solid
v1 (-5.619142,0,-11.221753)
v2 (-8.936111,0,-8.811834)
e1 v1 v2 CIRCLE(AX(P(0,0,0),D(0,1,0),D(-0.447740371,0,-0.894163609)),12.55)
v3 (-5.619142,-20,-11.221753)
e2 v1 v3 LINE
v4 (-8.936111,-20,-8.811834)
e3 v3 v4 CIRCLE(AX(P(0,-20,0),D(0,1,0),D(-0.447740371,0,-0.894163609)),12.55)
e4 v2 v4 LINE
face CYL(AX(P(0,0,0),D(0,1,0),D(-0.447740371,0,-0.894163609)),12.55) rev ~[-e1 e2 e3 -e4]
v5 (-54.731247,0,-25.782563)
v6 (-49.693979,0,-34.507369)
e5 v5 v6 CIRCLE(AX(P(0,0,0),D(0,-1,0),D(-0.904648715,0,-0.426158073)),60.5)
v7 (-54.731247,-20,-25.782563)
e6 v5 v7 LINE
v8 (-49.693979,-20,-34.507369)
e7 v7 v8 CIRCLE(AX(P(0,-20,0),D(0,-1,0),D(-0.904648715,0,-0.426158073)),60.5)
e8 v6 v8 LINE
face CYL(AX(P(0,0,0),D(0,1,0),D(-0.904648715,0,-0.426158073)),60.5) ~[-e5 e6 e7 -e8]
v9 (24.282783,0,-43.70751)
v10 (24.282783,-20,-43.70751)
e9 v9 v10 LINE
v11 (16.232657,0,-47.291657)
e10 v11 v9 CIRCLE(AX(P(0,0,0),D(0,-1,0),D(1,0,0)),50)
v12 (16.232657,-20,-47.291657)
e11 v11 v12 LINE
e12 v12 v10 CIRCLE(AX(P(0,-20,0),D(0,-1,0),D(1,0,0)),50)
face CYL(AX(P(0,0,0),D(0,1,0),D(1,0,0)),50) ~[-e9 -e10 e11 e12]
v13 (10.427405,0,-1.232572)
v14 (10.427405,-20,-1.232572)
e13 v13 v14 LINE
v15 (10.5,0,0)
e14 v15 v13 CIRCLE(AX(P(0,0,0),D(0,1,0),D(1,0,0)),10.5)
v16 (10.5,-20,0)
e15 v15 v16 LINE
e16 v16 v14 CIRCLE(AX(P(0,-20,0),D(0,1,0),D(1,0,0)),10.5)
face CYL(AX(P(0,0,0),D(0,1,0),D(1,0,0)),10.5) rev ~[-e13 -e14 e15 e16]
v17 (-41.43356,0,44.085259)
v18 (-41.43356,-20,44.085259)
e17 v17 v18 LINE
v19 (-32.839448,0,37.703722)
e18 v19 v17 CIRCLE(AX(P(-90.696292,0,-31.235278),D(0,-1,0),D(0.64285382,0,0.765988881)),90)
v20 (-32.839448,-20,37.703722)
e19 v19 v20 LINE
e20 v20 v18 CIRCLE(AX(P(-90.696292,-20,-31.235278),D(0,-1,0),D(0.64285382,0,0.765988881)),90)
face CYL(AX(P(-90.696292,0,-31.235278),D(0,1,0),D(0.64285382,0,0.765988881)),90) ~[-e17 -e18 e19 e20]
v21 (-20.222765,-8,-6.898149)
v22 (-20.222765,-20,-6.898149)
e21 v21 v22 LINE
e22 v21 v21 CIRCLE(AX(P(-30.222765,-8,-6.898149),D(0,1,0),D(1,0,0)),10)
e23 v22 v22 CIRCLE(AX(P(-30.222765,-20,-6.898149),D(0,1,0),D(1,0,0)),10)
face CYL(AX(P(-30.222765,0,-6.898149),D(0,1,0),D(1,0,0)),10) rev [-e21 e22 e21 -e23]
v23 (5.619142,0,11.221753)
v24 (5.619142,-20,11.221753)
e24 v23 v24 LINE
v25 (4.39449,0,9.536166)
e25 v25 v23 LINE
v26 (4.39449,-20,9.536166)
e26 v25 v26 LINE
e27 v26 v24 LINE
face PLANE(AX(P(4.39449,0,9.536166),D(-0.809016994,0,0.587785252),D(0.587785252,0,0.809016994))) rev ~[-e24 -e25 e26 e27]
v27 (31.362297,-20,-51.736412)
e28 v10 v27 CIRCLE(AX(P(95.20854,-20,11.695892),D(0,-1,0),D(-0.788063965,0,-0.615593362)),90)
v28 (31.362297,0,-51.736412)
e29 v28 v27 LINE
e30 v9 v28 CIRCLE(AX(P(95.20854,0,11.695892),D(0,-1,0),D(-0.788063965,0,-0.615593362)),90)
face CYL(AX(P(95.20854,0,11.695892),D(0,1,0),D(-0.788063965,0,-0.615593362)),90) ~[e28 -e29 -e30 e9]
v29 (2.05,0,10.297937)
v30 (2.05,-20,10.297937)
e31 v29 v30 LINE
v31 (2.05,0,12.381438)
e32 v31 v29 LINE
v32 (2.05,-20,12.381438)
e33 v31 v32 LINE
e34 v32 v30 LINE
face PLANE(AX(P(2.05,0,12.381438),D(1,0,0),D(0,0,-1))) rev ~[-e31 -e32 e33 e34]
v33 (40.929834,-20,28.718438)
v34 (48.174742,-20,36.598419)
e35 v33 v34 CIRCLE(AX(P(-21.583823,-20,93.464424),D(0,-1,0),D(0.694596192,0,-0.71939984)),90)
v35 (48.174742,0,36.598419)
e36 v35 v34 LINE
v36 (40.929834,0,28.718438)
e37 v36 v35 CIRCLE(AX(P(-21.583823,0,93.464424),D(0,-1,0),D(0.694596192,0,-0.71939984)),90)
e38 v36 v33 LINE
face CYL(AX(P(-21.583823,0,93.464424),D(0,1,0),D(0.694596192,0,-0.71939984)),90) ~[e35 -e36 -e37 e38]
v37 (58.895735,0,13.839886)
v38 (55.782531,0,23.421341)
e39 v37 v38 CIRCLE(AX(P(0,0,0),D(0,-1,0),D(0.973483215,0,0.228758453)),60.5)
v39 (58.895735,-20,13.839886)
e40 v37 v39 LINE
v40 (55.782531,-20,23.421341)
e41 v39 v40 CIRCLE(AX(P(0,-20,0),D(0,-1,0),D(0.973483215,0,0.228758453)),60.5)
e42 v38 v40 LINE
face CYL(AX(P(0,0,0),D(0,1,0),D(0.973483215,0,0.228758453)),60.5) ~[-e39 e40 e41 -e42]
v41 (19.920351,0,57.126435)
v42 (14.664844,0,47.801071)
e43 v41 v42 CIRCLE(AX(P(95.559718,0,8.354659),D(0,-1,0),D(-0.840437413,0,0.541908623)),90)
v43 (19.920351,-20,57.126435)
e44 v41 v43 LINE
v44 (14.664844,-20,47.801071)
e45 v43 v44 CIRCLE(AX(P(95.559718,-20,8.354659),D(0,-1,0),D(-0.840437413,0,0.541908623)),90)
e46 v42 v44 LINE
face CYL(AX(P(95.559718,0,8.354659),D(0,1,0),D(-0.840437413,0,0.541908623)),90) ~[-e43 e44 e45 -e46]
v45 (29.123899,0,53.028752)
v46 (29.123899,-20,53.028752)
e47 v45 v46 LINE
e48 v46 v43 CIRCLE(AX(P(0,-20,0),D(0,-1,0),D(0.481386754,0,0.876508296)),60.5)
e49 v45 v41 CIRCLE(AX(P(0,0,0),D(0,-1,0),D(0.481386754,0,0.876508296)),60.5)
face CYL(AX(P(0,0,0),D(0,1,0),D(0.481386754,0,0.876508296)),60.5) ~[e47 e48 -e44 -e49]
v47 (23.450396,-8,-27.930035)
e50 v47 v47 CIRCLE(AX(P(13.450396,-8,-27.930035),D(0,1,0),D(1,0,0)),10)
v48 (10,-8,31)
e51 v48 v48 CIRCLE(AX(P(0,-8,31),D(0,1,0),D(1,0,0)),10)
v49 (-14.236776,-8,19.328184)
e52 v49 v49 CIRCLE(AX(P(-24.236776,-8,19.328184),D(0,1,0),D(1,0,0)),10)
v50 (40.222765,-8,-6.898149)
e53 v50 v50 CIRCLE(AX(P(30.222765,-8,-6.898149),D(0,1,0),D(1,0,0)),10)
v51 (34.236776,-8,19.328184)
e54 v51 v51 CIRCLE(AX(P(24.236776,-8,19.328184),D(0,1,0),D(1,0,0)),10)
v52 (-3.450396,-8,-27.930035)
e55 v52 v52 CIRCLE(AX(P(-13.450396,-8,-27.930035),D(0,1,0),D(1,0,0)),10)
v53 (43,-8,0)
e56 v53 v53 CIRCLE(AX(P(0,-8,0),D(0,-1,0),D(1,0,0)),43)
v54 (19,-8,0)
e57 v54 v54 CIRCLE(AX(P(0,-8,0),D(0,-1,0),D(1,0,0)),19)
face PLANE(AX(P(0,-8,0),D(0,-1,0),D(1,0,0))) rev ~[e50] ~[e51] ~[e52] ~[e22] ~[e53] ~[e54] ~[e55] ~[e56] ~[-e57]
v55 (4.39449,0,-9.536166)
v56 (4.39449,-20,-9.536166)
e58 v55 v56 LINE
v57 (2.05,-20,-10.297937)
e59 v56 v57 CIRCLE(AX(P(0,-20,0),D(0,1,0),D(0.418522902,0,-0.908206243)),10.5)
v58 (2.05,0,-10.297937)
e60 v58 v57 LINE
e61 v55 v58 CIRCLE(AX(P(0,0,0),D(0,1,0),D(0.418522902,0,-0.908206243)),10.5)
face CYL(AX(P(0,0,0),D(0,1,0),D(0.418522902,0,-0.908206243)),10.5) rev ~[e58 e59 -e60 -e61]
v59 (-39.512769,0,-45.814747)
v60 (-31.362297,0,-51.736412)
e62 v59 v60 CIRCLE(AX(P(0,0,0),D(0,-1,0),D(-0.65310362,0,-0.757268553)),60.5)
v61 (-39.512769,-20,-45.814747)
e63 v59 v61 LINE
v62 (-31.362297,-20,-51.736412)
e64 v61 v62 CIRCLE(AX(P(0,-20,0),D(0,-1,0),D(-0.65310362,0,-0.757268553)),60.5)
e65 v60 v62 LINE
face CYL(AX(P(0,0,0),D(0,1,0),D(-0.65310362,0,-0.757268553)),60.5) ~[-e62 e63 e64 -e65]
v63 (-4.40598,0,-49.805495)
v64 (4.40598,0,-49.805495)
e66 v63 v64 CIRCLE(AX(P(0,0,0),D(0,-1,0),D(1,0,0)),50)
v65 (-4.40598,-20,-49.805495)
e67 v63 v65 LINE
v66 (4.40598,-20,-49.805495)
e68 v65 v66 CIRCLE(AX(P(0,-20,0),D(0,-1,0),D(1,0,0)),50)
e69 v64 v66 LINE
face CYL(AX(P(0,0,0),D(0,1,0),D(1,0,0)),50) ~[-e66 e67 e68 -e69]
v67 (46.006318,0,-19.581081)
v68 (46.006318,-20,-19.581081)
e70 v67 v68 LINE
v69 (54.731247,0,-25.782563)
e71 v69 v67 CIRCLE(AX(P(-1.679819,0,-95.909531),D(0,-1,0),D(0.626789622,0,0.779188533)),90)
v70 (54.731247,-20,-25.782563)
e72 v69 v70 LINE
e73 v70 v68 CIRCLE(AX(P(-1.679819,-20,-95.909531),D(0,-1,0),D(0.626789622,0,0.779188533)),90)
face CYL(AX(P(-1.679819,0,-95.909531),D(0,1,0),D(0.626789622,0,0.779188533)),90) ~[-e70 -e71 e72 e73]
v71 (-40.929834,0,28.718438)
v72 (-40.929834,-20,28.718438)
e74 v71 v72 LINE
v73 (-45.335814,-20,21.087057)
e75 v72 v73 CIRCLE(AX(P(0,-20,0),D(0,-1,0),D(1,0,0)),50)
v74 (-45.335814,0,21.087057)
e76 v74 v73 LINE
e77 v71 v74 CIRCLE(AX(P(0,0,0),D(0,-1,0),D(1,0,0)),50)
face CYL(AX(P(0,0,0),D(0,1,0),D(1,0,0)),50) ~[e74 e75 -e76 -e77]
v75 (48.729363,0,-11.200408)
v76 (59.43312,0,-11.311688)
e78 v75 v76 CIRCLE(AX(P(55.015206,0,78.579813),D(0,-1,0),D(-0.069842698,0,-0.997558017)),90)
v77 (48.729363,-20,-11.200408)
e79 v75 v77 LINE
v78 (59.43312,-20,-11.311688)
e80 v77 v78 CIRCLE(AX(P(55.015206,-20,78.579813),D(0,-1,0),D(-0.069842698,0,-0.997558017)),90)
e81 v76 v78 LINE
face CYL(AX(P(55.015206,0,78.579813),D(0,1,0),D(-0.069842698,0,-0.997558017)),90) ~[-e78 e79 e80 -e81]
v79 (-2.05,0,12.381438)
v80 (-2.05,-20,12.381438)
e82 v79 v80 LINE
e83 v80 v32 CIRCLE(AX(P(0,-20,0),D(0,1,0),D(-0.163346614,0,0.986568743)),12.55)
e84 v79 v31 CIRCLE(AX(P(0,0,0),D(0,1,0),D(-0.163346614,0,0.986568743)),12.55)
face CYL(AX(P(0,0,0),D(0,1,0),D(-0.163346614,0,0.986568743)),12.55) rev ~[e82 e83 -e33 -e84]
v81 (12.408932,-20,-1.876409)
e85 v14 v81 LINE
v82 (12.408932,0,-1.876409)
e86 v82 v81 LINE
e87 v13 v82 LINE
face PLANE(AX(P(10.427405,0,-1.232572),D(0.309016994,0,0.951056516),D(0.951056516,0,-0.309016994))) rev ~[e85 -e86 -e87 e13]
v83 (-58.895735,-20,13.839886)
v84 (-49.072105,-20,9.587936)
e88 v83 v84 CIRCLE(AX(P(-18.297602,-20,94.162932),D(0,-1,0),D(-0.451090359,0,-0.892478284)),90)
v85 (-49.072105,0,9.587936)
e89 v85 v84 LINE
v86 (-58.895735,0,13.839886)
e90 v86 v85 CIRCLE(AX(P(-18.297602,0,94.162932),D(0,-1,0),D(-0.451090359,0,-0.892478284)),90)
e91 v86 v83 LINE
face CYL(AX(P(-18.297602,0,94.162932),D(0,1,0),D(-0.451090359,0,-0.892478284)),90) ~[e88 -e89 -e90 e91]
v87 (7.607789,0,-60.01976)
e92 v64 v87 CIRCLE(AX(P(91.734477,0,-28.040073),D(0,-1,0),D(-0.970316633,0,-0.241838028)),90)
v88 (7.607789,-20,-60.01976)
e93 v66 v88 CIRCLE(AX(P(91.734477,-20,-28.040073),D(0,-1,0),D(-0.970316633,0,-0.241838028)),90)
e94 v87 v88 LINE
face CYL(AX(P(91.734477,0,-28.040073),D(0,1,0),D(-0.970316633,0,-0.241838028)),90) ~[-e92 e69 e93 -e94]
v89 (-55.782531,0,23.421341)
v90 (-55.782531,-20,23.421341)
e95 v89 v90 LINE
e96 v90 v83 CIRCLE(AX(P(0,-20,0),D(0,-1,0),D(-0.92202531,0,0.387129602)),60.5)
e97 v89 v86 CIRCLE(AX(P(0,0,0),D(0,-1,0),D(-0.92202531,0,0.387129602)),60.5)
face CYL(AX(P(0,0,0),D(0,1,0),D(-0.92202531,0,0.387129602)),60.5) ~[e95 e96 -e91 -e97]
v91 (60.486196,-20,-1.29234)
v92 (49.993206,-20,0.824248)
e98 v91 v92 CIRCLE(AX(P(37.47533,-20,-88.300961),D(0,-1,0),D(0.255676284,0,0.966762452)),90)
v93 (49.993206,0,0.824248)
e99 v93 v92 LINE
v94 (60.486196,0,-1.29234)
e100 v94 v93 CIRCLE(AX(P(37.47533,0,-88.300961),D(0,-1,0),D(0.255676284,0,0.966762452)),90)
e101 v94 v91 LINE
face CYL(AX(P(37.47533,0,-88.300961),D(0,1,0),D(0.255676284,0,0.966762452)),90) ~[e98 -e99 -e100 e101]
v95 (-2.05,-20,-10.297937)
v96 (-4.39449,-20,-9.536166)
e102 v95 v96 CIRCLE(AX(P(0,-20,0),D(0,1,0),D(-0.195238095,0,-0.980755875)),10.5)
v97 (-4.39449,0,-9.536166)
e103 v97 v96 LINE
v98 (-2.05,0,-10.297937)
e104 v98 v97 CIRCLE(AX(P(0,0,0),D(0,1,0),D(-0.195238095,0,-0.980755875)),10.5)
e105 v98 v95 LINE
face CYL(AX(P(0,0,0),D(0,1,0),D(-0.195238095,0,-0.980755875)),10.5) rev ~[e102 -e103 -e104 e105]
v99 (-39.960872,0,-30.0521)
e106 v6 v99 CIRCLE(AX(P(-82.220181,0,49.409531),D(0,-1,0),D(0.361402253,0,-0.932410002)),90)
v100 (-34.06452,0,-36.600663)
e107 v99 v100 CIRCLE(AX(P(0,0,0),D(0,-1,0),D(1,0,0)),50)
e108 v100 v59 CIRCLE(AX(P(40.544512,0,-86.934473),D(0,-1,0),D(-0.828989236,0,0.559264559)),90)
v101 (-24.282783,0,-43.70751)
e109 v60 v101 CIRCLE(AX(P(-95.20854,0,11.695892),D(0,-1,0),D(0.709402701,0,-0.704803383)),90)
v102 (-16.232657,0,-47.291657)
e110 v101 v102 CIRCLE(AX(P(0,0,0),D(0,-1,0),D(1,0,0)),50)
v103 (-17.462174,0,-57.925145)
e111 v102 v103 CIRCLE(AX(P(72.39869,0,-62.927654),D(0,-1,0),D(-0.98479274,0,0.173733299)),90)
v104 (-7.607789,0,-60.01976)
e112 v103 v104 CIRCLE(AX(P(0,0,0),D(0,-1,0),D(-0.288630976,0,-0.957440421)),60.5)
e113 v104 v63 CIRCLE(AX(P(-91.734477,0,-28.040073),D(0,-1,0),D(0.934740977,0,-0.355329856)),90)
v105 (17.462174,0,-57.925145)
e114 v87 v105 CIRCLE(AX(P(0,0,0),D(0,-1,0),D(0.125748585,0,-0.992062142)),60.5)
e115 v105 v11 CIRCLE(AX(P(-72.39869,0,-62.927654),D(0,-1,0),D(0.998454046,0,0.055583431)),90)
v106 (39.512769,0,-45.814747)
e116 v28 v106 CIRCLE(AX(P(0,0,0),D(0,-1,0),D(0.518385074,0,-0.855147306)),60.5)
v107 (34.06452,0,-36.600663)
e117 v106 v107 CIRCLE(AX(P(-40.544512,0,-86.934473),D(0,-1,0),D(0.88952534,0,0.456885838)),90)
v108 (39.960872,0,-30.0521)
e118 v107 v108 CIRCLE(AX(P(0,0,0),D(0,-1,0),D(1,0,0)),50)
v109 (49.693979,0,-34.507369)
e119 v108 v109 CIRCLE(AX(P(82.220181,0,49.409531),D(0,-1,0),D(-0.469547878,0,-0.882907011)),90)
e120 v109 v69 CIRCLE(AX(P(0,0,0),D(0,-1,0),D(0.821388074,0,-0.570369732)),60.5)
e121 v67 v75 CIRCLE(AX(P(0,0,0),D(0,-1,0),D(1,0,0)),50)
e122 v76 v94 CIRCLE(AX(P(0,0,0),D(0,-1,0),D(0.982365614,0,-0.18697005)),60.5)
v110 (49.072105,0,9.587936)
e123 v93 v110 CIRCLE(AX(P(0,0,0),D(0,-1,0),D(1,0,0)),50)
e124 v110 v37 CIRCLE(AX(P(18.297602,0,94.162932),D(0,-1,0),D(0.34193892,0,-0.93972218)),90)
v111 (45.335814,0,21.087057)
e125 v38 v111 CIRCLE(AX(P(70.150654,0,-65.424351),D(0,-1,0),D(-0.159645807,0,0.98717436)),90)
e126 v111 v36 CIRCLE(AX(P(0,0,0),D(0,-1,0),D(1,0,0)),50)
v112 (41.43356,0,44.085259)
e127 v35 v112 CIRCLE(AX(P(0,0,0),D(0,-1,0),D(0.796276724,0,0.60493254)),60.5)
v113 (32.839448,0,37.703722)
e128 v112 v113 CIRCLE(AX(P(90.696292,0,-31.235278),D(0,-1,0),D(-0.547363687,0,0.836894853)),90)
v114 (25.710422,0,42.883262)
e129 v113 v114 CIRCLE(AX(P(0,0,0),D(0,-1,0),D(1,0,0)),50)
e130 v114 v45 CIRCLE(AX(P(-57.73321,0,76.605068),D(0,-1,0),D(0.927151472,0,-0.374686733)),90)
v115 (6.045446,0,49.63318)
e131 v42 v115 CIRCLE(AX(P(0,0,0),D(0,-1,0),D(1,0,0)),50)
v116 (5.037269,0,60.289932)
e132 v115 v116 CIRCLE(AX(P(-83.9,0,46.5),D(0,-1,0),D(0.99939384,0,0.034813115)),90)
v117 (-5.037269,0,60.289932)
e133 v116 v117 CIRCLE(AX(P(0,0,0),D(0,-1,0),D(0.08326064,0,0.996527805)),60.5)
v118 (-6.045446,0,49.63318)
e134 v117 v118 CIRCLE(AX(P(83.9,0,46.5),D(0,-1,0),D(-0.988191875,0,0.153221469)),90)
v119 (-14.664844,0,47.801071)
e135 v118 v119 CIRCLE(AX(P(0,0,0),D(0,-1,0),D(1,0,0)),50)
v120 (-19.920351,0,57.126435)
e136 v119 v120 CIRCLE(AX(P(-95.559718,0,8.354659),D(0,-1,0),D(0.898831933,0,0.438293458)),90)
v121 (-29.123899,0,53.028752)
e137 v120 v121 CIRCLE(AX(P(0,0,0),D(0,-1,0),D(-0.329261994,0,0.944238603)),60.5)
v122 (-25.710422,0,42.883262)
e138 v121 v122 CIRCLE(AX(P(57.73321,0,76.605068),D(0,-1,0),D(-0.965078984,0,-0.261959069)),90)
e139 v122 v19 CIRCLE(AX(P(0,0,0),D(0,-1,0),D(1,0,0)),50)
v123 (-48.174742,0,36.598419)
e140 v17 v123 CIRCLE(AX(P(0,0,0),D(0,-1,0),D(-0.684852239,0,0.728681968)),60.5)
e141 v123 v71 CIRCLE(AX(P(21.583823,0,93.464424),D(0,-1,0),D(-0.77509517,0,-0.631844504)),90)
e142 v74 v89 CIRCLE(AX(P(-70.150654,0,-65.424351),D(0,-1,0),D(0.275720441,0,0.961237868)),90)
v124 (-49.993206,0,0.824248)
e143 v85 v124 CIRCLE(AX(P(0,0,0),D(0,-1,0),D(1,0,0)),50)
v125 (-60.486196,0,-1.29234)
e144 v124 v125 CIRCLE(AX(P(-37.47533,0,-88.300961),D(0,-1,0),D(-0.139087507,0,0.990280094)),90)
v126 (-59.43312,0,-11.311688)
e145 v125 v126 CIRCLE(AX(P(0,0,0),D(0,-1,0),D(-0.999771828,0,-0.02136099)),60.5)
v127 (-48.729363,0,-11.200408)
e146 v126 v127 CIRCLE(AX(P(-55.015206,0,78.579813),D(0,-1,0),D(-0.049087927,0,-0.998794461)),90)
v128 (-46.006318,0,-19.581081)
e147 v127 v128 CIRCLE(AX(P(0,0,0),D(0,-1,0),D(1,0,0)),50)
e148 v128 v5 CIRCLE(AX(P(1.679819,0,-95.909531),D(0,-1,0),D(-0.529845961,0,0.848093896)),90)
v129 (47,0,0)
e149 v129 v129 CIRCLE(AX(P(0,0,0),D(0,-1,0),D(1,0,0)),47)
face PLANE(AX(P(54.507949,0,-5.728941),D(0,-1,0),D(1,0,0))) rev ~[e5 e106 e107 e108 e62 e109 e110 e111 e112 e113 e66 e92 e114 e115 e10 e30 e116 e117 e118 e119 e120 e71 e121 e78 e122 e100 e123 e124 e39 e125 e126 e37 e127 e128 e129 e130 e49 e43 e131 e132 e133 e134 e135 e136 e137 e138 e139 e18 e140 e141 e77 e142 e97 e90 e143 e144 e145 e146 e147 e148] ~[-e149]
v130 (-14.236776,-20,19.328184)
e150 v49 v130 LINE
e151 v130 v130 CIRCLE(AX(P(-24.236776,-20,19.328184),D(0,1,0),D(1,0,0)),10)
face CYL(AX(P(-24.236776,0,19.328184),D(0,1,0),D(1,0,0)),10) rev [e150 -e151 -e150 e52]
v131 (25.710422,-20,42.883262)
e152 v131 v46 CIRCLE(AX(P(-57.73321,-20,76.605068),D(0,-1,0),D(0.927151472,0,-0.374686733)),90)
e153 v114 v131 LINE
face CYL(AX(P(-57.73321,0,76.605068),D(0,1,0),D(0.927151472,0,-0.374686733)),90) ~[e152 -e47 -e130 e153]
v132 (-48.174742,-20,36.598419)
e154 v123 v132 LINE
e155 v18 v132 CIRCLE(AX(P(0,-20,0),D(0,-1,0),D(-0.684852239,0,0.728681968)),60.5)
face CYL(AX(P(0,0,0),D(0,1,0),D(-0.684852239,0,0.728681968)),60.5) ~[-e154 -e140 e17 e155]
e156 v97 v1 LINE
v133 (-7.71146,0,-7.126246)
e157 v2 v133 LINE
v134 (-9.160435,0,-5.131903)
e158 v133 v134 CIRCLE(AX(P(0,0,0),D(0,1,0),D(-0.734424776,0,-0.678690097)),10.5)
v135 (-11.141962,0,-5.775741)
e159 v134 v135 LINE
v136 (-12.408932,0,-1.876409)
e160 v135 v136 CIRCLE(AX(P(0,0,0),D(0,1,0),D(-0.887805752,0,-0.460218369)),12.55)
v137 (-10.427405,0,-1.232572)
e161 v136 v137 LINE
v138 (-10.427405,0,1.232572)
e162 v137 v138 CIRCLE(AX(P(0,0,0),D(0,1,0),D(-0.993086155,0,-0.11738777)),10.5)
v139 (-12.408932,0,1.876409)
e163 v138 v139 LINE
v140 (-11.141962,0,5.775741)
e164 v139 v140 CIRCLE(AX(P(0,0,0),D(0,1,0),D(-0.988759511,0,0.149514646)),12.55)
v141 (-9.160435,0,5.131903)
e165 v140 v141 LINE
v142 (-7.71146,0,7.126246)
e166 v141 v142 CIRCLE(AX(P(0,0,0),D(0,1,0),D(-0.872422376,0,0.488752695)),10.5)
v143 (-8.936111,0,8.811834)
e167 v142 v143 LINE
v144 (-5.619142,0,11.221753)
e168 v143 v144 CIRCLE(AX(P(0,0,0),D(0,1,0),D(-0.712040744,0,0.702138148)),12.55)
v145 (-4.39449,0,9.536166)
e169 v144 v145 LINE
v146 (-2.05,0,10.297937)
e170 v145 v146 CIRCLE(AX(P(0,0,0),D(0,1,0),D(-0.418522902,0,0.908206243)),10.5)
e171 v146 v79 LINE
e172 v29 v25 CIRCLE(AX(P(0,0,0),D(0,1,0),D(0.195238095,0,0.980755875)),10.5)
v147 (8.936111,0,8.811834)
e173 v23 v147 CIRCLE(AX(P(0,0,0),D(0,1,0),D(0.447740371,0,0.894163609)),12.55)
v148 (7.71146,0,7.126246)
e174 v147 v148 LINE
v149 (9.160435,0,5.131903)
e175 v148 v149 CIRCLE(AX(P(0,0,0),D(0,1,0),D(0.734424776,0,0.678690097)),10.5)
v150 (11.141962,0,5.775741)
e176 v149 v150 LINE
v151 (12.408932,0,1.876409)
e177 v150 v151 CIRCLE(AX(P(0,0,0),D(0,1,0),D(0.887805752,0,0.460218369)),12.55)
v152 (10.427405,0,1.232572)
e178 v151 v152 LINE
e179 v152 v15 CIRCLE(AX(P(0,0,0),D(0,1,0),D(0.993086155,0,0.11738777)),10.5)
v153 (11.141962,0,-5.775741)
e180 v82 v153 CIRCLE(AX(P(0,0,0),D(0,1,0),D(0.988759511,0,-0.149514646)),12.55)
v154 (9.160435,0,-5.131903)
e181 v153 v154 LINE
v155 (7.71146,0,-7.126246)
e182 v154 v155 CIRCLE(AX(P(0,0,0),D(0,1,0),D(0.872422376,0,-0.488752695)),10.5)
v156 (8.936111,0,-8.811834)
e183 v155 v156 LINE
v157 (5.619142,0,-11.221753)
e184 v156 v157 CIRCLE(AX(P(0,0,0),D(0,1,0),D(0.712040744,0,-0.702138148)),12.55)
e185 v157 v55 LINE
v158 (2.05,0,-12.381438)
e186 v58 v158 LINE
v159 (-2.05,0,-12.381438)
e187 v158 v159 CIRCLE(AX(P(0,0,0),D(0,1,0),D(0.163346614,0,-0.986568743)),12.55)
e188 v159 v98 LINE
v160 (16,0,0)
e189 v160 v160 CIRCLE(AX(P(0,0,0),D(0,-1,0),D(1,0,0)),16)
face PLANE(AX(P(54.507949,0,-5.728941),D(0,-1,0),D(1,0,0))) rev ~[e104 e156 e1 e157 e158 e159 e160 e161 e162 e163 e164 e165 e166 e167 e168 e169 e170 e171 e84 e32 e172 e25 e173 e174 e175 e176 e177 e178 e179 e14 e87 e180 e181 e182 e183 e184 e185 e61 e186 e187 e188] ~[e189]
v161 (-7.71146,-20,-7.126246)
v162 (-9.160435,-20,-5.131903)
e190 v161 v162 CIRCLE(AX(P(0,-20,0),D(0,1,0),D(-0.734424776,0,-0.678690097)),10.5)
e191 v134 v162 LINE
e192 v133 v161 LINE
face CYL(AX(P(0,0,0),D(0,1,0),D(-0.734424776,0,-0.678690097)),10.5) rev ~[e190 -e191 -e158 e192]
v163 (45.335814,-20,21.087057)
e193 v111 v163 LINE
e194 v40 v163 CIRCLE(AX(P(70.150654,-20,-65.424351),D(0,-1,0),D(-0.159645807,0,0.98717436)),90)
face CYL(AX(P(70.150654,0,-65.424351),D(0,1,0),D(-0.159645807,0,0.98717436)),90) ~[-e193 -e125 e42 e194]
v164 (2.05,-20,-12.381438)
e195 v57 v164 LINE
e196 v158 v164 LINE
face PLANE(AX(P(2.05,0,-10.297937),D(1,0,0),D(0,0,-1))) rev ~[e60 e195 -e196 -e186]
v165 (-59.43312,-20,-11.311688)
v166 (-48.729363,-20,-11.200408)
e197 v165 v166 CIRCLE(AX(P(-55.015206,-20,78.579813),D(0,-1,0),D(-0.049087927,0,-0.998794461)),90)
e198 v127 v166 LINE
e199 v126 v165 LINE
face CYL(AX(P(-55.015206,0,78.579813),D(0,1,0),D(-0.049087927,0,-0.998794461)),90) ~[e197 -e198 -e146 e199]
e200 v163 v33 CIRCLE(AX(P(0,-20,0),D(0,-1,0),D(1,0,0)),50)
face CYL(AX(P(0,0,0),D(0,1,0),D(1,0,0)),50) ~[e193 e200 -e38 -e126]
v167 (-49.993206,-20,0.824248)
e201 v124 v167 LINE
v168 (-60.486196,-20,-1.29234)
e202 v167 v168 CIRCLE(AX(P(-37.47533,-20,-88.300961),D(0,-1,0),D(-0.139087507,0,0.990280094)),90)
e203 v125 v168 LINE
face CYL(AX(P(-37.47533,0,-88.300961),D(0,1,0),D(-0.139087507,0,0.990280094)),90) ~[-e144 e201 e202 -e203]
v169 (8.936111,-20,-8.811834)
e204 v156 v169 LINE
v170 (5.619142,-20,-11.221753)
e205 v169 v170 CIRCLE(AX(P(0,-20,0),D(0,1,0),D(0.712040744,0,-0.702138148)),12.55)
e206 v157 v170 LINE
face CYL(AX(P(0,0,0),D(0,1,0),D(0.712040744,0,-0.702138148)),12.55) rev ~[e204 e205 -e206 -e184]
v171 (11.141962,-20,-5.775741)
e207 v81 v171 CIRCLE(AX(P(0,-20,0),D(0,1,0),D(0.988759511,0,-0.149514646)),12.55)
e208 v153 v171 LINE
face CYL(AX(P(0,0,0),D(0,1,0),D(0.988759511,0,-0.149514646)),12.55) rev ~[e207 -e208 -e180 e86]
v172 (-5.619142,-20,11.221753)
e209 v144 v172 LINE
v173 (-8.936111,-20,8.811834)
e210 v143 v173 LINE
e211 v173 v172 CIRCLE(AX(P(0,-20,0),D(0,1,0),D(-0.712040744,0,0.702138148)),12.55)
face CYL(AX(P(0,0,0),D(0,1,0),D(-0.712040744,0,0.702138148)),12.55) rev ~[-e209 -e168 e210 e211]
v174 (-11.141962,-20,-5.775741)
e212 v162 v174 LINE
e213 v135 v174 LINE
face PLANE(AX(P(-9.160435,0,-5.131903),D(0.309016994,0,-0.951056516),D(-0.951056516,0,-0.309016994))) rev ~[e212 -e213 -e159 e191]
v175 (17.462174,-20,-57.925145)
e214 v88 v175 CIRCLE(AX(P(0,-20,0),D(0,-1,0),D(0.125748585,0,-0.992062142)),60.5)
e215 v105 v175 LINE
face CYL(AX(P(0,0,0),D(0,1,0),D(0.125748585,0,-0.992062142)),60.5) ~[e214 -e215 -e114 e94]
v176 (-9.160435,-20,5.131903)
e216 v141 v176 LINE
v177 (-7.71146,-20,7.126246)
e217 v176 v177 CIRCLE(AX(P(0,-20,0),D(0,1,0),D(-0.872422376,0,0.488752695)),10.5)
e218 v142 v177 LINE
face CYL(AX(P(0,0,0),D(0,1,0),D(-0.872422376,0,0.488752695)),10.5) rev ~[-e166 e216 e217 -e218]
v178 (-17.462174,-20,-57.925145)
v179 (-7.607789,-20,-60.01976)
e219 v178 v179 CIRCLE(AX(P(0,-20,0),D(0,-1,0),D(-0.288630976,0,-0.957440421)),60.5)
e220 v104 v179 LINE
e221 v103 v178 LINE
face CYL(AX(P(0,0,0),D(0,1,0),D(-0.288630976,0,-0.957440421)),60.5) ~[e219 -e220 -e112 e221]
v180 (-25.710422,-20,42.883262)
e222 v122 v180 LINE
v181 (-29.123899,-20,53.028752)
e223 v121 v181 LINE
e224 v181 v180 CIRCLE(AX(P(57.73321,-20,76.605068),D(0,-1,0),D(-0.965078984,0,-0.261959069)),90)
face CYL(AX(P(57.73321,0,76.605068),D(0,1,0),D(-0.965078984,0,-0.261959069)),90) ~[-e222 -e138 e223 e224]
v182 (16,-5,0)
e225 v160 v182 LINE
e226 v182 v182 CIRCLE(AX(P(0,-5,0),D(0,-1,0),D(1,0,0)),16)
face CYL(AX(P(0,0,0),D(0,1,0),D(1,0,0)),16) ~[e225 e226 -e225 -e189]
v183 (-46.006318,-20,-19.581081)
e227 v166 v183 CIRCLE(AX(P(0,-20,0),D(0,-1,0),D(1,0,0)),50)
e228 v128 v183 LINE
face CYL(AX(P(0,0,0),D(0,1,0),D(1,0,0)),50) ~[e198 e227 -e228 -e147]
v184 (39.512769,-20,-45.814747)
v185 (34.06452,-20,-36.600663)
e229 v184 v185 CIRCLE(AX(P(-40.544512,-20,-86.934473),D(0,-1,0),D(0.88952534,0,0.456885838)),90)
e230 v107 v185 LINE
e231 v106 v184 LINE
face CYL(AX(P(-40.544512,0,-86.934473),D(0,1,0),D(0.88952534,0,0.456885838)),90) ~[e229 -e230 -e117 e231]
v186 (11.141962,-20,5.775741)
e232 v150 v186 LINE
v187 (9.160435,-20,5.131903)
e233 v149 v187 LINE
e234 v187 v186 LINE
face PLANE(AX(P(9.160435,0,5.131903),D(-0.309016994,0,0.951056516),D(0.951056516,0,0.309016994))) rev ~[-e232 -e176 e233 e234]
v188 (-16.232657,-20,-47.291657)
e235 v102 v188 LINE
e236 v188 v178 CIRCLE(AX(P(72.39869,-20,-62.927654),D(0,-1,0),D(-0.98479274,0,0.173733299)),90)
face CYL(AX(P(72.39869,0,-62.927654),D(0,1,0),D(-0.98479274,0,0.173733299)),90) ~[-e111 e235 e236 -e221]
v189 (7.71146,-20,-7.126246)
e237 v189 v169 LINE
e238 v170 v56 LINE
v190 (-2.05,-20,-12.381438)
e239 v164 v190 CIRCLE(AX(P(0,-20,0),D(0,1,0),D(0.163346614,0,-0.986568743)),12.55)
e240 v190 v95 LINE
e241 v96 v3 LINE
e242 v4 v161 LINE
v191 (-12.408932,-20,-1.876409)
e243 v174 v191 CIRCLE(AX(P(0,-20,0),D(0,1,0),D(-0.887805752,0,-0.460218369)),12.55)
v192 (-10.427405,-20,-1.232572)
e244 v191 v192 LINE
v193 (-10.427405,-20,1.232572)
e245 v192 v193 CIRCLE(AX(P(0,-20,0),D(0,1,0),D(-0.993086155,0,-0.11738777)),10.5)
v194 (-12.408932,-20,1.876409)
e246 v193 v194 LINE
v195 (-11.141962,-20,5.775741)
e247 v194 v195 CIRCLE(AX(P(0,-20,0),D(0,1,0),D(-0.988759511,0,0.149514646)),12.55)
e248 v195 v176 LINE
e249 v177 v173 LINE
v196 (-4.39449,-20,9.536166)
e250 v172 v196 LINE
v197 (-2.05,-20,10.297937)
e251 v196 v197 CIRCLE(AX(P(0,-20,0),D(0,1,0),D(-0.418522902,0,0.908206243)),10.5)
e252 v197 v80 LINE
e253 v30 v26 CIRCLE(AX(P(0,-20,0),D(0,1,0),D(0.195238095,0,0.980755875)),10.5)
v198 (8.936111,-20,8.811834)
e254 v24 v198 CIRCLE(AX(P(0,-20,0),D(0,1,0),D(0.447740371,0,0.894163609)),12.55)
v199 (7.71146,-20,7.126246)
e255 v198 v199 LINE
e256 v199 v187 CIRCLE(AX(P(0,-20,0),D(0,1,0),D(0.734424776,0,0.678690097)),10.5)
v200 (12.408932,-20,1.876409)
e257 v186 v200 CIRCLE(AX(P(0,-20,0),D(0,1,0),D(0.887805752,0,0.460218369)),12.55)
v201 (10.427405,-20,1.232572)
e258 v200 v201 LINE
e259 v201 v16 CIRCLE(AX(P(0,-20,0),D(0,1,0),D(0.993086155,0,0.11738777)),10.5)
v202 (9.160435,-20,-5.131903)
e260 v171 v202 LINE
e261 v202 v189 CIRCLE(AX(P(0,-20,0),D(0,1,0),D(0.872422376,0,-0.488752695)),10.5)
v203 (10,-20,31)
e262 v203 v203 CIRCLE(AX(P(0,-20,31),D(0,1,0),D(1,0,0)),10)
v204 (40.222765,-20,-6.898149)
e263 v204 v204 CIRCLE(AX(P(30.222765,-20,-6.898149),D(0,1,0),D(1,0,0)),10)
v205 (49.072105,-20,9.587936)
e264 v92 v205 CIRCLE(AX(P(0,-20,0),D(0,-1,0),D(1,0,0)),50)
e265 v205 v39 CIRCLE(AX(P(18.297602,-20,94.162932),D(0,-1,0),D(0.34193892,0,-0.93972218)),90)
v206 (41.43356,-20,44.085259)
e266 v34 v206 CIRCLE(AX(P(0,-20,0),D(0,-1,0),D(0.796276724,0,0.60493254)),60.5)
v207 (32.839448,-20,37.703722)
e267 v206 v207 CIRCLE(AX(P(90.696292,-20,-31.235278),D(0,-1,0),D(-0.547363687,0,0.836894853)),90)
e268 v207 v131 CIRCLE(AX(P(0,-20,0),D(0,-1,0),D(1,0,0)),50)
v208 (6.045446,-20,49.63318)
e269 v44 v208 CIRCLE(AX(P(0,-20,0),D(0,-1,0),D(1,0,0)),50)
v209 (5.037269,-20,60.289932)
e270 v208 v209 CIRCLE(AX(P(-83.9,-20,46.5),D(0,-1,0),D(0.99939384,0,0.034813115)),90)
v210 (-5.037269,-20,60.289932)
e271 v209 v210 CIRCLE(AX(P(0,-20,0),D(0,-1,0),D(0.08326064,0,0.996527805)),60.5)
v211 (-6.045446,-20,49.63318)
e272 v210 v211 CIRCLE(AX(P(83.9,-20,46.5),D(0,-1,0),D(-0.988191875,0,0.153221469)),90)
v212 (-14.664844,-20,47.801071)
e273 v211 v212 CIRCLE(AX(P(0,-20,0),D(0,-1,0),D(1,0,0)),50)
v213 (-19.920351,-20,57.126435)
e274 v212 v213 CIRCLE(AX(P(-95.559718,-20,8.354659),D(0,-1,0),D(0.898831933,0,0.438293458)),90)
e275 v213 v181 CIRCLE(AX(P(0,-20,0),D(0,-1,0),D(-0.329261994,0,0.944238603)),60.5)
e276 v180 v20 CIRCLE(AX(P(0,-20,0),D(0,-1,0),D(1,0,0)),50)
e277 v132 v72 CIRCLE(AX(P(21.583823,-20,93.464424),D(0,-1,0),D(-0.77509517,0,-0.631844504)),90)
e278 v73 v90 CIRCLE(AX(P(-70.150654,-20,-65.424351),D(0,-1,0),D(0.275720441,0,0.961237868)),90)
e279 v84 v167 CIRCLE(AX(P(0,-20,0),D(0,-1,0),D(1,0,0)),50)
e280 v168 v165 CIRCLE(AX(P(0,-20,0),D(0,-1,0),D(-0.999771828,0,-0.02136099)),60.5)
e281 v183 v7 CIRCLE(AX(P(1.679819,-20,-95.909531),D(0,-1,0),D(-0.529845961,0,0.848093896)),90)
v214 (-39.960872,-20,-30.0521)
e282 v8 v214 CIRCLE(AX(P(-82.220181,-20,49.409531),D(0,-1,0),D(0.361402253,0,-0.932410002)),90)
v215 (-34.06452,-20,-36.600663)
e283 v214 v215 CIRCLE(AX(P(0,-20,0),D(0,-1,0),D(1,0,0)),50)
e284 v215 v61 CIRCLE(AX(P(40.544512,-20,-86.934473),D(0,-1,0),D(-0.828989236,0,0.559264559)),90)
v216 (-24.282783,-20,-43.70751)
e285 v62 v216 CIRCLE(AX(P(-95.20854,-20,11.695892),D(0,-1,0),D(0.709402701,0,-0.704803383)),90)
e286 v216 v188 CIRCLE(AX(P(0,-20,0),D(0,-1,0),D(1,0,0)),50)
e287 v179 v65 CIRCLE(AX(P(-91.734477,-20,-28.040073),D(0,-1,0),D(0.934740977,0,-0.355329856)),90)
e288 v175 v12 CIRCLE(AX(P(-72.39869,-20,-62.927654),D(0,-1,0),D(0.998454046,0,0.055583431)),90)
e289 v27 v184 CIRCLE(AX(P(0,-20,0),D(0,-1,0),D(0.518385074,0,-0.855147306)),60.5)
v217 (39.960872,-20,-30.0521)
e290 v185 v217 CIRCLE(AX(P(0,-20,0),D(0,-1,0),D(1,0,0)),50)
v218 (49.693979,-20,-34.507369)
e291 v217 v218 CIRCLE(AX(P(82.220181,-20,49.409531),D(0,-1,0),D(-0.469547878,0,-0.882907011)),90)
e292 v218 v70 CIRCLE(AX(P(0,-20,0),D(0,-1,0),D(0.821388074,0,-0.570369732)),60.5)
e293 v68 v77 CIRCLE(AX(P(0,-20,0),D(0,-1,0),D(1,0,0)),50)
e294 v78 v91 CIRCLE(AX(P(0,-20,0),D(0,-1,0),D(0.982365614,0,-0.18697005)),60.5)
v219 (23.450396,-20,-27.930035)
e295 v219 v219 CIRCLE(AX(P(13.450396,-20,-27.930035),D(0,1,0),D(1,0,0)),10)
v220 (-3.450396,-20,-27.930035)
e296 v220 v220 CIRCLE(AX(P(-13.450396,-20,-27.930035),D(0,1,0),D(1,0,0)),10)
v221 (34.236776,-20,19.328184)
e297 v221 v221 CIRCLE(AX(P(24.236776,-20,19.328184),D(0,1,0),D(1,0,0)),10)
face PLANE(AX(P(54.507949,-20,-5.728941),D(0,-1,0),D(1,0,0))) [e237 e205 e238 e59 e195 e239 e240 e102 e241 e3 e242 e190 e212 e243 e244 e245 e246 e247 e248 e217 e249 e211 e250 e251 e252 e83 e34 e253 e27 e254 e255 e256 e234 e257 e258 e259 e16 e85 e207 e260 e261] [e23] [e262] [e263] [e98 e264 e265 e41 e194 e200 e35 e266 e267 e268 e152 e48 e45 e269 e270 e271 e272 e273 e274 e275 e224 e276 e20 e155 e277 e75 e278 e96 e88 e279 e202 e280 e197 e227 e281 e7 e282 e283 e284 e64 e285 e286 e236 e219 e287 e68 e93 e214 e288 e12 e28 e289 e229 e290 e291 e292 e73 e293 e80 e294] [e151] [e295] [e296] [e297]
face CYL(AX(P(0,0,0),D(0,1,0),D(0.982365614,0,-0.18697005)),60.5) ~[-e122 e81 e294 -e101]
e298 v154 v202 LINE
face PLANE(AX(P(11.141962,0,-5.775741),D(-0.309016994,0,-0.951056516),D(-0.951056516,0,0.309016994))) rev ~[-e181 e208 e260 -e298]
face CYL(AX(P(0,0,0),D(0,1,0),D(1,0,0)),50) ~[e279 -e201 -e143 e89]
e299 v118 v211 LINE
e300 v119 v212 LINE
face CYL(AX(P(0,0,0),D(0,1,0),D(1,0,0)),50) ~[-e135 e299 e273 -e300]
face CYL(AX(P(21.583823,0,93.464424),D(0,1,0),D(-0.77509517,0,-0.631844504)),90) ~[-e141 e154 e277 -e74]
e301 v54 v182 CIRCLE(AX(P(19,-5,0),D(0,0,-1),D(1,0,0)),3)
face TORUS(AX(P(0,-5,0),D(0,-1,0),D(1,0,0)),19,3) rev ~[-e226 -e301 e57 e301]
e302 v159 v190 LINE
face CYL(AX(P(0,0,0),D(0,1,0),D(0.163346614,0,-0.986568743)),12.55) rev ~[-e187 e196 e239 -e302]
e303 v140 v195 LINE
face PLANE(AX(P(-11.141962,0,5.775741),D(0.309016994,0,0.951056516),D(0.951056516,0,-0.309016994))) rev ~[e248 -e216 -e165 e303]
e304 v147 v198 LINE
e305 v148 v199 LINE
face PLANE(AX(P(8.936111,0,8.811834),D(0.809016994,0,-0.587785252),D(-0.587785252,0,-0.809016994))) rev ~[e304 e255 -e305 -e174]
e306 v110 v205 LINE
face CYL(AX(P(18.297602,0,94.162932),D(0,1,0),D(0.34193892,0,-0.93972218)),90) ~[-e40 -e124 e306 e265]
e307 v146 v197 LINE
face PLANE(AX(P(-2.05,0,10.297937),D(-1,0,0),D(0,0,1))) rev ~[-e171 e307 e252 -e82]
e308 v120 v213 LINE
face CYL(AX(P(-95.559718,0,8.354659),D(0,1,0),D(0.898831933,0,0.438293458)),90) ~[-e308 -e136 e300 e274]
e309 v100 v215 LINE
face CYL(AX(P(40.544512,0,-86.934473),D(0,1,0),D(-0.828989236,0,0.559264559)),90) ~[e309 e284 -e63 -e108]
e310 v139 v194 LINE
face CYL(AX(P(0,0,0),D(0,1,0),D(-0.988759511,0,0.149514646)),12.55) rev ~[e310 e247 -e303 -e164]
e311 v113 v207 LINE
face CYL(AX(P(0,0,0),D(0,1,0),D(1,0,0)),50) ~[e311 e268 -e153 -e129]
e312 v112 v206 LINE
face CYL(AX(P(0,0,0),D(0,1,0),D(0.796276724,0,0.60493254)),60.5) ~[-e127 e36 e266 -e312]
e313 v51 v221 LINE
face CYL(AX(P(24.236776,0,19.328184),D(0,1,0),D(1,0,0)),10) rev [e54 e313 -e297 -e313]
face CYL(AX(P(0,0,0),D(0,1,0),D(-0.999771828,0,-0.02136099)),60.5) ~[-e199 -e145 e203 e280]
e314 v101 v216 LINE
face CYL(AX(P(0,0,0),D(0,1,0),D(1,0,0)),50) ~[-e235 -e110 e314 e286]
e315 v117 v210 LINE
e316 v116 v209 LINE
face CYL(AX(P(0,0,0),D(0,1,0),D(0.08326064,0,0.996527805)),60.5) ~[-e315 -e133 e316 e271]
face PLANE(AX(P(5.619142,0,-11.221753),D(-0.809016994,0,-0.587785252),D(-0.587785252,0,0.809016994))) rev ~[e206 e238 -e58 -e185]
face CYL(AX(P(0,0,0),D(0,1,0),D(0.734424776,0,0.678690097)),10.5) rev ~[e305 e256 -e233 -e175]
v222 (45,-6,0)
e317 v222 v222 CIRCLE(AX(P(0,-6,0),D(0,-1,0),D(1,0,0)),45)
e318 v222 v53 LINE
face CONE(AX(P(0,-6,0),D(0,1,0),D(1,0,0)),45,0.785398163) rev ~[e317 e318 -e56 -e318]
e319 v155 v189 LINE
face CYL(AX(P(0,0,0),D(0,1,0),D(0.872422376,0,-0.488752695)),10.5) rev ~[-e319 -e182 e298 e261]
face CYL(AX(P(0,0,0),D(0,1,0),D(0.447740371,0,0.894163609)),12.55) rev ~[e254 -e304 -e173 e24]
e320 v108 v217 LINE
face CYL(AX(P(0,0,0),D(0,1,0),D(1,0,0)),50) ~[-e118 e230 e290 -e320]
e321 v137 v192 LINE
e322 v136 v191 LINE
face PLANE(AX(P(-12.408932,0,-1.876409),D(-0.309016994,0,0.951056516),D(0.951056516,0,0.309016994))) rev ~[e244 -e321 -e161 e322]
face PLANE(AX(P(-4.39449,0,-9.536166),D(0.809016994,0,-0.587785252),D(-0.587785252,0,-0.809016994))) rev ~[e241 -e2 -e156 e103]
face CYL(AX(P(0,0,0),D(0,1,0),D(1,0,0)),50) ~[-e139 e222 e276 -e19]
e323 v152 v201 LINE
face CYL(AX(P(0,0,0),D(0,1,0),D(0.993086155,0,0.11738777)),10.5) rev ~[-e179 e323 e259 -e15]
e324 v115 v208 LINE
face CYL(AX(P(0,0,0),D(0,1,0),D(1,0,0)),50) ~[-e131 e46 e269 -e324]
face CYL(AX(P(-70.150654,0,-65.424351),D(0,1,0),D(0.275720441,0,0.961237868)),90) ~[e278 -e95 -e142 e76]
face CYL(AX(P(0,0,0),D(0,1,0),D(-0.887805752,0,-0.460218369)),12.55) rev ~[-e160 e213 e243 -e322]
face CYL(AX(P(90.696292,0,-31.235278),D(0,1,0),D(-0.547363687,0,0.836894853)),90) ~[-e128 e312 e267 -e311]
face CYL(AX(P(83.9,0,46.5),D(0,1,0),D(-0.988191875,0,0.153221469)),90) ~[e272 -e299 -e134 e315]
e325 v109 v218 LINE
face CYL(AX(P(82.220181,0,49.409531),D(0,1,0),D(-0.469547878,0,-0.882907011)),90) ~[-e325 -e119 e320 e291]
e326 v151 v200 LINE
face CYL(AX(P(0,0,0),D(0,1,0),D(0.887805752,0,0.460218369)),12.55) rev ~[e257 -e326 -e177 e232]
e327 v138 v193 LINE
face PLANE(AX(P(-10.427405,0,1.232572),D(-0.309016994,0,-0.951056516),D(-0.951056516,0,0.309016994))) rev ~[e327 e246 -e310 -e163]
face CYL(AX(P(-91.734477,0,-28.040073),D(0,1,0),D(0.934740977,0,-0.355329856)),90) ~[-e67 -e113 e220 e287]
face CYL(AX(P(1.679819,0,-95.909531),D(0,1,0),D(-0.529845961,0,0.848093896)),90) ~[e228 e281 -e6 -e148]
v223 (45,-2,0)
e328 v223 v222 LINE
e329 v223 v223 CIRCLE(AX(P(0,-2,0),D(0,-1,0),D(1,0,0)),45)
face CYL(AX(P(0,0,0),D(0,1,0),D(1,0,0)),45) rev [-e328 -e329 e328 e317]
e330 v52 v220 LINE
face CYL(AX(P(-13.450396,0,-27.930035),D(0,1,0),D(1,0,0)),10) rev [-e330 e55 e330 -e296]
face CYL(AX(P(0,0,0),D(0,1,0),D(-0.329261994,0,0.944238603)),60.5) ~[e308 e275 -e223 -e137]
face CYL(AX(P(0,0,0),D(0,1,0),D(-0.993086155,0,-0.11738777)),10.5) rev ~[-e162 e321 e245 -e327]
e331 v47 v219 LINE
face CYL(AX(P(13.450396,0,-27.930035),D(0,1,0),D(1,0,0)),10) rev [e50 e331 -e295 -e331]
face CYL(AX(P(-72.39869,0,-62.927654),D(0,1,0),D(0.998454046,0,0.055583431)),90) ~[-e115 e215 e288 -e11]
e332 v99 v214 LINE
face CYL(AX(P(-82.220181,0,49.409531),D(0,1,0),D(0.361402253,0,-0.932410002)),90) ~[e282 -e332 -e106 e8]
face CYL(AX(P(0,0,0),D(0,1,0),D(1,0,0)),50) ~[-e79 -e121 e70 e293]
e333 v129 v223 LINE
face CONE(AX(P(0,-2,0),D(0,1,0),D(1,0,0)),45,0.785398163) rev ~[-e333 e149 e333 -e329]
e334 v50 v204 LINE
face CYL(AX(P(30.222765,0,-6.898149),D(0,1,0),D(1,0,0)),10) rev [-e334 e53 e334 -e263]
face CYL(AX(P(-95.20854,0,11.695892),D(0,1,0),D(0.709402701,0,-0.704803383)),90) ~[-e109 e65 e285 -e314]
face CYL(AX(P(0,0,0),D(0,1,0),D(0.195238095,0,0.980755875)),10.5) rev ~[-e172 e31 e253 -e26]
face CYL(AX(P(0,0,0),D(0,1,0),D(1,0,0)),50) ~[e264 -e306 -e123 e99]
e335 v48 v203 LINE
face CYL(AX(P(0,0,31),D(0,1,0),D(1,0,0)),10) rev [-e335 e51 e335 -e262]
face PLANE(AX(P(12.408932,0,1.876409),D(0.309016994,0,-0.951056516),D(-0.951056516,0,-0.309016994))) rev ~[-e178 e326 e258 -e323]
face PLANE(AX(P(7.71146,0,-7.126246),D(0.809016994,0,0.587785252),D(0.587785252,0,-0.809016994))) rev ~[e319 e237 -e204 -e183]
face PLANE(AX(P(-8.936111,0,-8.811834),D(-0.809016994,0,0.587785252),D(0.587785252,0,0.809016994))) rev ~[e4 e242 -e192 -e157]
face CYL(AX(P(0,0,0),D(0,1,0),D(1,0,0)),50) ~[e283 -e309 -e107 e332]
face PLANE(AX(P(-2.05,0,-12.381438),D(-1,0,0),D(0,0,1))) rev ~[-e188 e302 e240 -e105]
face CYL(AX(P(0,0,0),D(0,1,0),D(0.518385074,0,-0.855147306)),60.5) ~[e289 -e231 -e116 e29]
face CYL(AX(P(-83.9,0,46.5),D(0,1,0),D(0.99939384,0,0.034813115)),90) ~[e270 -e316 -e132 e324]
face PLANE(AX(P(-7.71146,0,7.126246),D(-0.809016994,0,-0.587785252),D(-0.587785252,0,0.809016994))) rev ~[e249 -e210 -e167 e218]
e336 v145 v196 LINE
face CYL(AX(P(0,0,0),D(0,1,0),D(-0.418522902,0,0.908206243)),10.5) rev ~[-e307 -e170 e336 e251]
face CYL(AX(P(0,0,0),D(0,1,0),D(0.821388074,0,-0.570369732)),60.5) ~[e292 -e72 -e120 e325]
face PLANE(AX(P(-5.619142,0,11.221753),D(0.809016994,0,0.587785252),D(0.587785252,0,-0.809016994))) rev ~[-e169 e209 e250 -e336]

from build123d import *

# Parameters (mm, degrees)
F1_R     = 50
F2_DEPTH = 20
F4_DEPTH = 20
F5_R     = 45
F5_R_2   = 16
F6_DEPTH = 8
F7_R     = 10
F8_DEPTH = 25
F9_SIZE  = 2
F10_R    = 3


with BuildPart() as f2:
    # F1 (on Front) → F2 (new body)
    with BuildSketch(Plane.XZ):
        Circle(F1_R)
        with BuildLine():
            ThreePointArc((-2.05, 12.3814377194), (0, 12.55), (2.05, 12.3814377194))
            Line((2.05, 12.3814377194), (2.05, 10.2979366865))
            ThreePointArc((2.05, 10.2979366865), (3.2446784409, 9.9860934211), (4.3944904749, 9.5361655536))
            Line((4.3944904749, 9.5361655536), (5.6191416552, 11.221753297))
            ThreePointArc((5.6191416552, 11.221753297), (7.3767049163, 10.1531632794), (8.9361113321, 8.8118337626))
            Line((8.9361113321, 8.8118337626), (7.7114601519, 7.1262460192))
            ThreePointArc((7.7114601519, 7.1262460192), (8.4946784409, 6.1717451491), (9.1604349517, 5.1319033015))
            Line((9.1604349517, 5.1319033015), (11.1419621857, 5.7757405285))
            ThreePointArc((11.1419621857, 5.7757405285), (11.9357592795, 3.8781632794), (12.4089318626, 1.8764088117))
            Line((12.4089318626, 1.8764088117), (10.4274046286, 1.2325715847))
            ThreePointArc((10.4274046286, 1.2325715847), (10.4818354452, 0.6173537882), (10.5, 0))
            ThreePointArc((10.5, 0), (10.4818354452, -0.6173537882), (10.4274046286, -1.2325715847))
            Line((10.4274046286, -1.2325715847), (12.4089318626, -1.8764088117))
            ThreePointArc((12.4089318626, -1.8764088117), (11.9357592795, -3.8781632794), (11.1419621857, -5.7757405285))
            Line((11.1419621857, -5.7757405285), (9.1604349517, -5.1319033015))
            ThreePointArc((9.1604349517, -5.1319033015), (8.4946784409, -6.1717451491), (7.7114601519, -7.1262460192))
            Line((7.7114601519, -7.1262460192), (8.9361113321, -8.8118337626))
            ThreePointArc((8.9361113321, -8.8118337626), (7.3767049163, -10.1531632794), (5.6191416552, -11.221753297))
            Line((5.6191416552, -11.221753297), (4.3944904749, -9.5361655536))
            ThreePointArc((4.3944904749, -9.5361655536), (3.2446784409, -9.9860934211), (2.05, -10.2979366865))
            Line((2.05, -10.2979366865), (2.05, -12.3814377194))
            ThreePointArc((2.05, -12.3814377194), (0, -12.55), (-2.05, -12.3814377194))
            Line((-2.05, -12.3814377194), (-2.05, -10.2979366865))
            ThreePointArc((-2.05, -10.2979366865), (-3.2446784409, -9.9860934211), (-4.3944904749, -9.5361655536))
            Line((-4.3944904749, -9.5361655536), (-5.6191416552, -11.221753297))
            ThreePointArc((-5.6191416552, -11.221753297), (-7.3767049163, -10.1531632794), (-8.9361113321, -8.8118337626))
            Line((-8.9361113321, -8.8118337626), (-7.7114601519, -7.1262460192))
            ThreePointArc((-7.7114601519, -7.1262460192), (-8.4946784409, -6.1717451491), (-9.1604349517, -5.1319033015))
            Line((-9.1604349517, -5.1319033015), (-11.1419621857, -5.7757405285))
            ThreePointArc((-11.1419621857, -5.7757405285), (-11.9357592795, -3.8781632794), (-12.4089318626, -1.8764088117))
            Line((-12.4089318626, -1.8764088117), (-10.4274046286, -1.2325715847))
            ThreePointArc((-10.4274046286, -1.2325715847), (-10.5, 0), (-10.4274046286, 1.2325715847))
            Line((-10.4274046286, 1.2325715847), (-12.4089318626, 1.8764088117))
            ThreePointArc((-12.4089318626, 1.8764088117), (-11.9357592795, 3.8781632794), (-11.1419621857, 5.7757405285))
            Line((-11.1419621857, 5.7757405285), (-9.1604349517, 5.1319033015))
            ThreePointArc((-9.1604349517, 5.1319033015), (-8.4946784409, 6.1717451491), (-7.7114601519, 7.1262460192))
            Line((-7.7114601519, 7.1262460192), (-8.9361113321, 8.8118337626))
            ThreePointArc((-8.9361113321, 8.8118337626), (-7.3767049163, 10.1531632794), (-5.6191416552, 11.221753297))
            Line((-5.6191416552, 11.221753297), (-4.3944904749, 9.5361655536))
            ThreePointArc((-4.3944904749, 9.5361655536), (-3.2446784409, 9.9860934211), (-2.05, 10.2979366865))
            Line((-2.05, 10.2979366865), (-2.05, 12.3814377194))
        make_face(mode=Mode.SUBTRACT)
    extrude(amount=F2_DEPTH)

    # F3 (on Front) → F4 (join)
    with BuildSketch(Plane.XZ):
        with BuildLine():
            ThreePointArc((6.0454455831, 49.6331803102), (5.6999328162, 54.9765582241), (5.0372687356, 60.2899321917))
            ThreePointArc((5.0372687356, 60.2899321917), (0, 60.5), (-5.0372687356, 60.2899321917))
            ThreePointArc((-5.0372687356, 60.2899321917), (-5.6999328162, 54.9765582241), (-6.0454455831, 49.6331803102))
            ThreePointArc((-6.0454455831, 49.6331803102), (0, 50), (6.0454455831, 49.6331803102))
        make_face()
        with BuildLine():
            ThreePointArc((19.9203506586, 57.1264354711), (17.1538330068, 52.5419565819), (14.6648437927, 47.8010706631))
            ThreePointArc((14.6648437927, 47.8010706631), (20.3368321538, 45.6772728821), (25.7104224964, 42.8832621783))
            ThreePointArc((25.7104224964, 42.8832621783), (27.5681284731, 47.905213503), (29.1238986033, 53.0287519196))
            ThreePointArc((29.1238986033, 53.0287519196), (24.6075669061, 55.2695001874), (19.9203506586, 57.1264354711))
        make_face()
        with BuildLine():
            ThreePointArc((41.4335604532, 44.0852590802), (37.0415452653, 41.022373318), (32.8394484508, 37.7037216393))
            ThreePointArc((32.8394484508, 37.7037216393), (37.1572412739, 33.4565303179), (40.9298337882, 28.7184384337))
            ThreePointArc((40.9298337882, 28.7184384337), (44.6695442683, 32.5506221621), (48.1747418201, 36.5984186894))
            ThreePointArc((48.1747418201, 36.5984186894), (44.9602619414, 40.4824016847), (41.4335604532, 44.0852590802))
        make_face()
        with BuildLine():
            ThreePointArc((55.7825312334, 23.4213408923), (50.5244378355, 22.4096490308), (45.3358141347, 21.0870566164))
            ThreePointArc((45.3358141347, 21.0870566164), (47.5528258148, 15.4508497187), (49.0721049822, 9.587935785))
            ThreePointArc((49.0721049822, 9.587935785), (54.0471900496, 11.5677325362), (58.8957345225, 13.8398863816))
            ThreePointArc((58.8957345225, 13.8398863816), (57.5389192359, 18.6955281597), (55.7825312334, 23.4213408923))
        make_face()
        with BuildLine():
            ThreePointArc((60.486195595, -1.2923399121), (55.2711961039, -0.077907159), (49.9932056918, 0.8242479348))
            ThreePointArc((49.9932056918, 0.8242479348), (49.9983013941, 0.4121379686), (50, 0))
            ThreePointArc((50, 0), (49.6813253191, -5.6361258444), (48.7293634187, -11.2004080646))
            ThreePointArc((48.7293634187, -11.2004080646), (54.0795856679, -11.4153231348), (59.433119675, -11.3116880129))
            ThreePointArc((59.433119675, -11.3116880129), (60.1685746698, -6.3239720277), (60.486195595, -1.2923399121))
        make_face()
        with BuildLine():
            ThreePointArc((54.7312472383, -25.7825634052), (50.4610624428, -22.5519924933), (46.0063178108, -19.5810807029))
            ThreePointArc((46.0063178108, -19.5810807029), (43.3012701892, -25), (39.9608722277, -30.0520996073))
            ThreePointArc((39.9608722277, -30.0520996073), (44.7611296266, -32.4245657308), (49.6939785027, -34.5073687866))
            ThreePointArc((49.6939785027, -34.5073687866), (52.394536929, -30.25), (54.7312472383, -25.7825634052))
        make_face()
        with BuildLine():
            ThreePointArc((39.5127690163, -45.8147474582), (36.9257526611, -41.1266334471), (34.064519626, -36.6006625985))
            ThreePointArc((34.064519626, -36.6006625985), (29.3892626146, -40.4508497187), (24.2827831954, -43.7075101131))
            ThreePointArc((24.2827831954, -43.7075101131), (27.7030676308, -47.827306344), (31.3622969917, -51.7364120075))
            ThreePointArc((31.3622969917, -51.7364120075), (35.5610077637, -48.9455281597), (39.5127690164, -45.8147474582))
        make_face()
        with BuildLine():
            ThreePointArc((17.4621740692, -57.9251454618), (17.0056447843, -52.5901058542), (16.2326565314, -47.2916574242))
            ThreePointArc((16.2326565314, -47.2916574242), (10.3955845409, -48.9073800367), (4.4059803465, -49.8054950501))
            ThreePointArc((4.4059803465, -49.8054950501), (5.8548935672, -54.9602711929), (7.6077894133, -60.0197595817))
            ThreePointArc((7.6077894133, -60.0197595817), (12.5786572945, -59.1779298444), (17.4621740692, -57.9251454618))
        make_face()
        with BuildLine():
            ThreePointArc((-4.4059803465, -49.8054950501), (-10.3955845409, -48.9073800367), (-16.2326565314, -47.2916574242))
            ThreePointArc((-16.2326565314, -47.2916574242), (-17.0056447843, -52.5901058542), (-17.4621740692, -57.9251454618))
            ThreePointArc((-17.4621740692, -57.9251454618), (-12.5786572945, -59.1779298444), (-7.6077894133, -60.0197595817))
            ThreePointArc((-7.6077894133, -60.0197595817), (-5.8548935672, -54.9602711929), (-4.4059803465, -49.8054950501))
        make_face()
        with BuildLine():
            ThreePointArc((-24.2827831954, -43.7075101131), (-29.3892626146, -40.4508497187), (-34.064519626, -36.6006625985))
            ThreePointArc((-34.064519626, -36.6006625985), (-36.9257526611, -41.1266334471), (-39.5127690164, -45.8147474582))
            ThreePointArc((-39.5127690164, -45.8147474582), (-35.5610077637, -48.9455281597), (-31.3622969917, -51.7364120075))
            ThreePointArc((-31.3622969917, -51.7364120075), (-27.7030676308, -47.827306344), (-24.2827831954, -43.7075101131))
        make_face()
        with BuildLine():
            ThreePointArc((-39.9608722277, -30.0520996073), (-43.3012701892, -25), (-46.0063178108, -19.5810807029))
            ThreePointArc((-46.0063178108, -19.5810807029), (-50.4610624428, -22.5519924933), (-54.7312472383, -25.7825634052))
            ThreePointArc((-54.7312472383, -25.7825634052), (-52.394536929, -30.25), (-49.6939785027, -34.5073687866))
            ThreePointArc((-49.6939785027, -34.5073687866), (-44.7611296266, -32.4245657308), (-39.9608722277, -30.0520996073))
        make_face()
        with BuildLine():
            ThreePointArc((-48.7293634187, -11.2004080646), (-49.7260947684, -5.2264231634), (-49.9932056918, 0.8242479348))
            ThreePointArc((-49.9932056918, 0.8242479348), (-55.2711961039, -0.077907159), (-60.486195595, -1.2923399121))
            ThreePointArc((-60.486195595, -1.2923399121), (-60.1685746698, -6.3239720277), (-59.433119675, -11.3116880129))
            ThreePointArc((-59.433119675, -11.3116880129), (-54.0795856679, -11.4153231348), (-48.7293634187, -11.2004080646))
        make_face()
        with BuildLine():
            ThreePointArc((-49.0721049822, 9.587935785), (-47.5528258148, 15.4508497187), (-45.3358141347, 21.0870566164))
            ThreePointArc((-45.3358141347, 21.0870566164), (-50.5244378355, 22.4096490308), (-55.7825312334, 23.4213408923))
            ThreePointArc((-55.7825312334, 23.4213408923), (-57.5389192359, 18.6955281597), (-58.8957345225, 13.8398863816))
            ThreePointArc((-58.8957345225, 13.8398863816), (-54.0471900496, 11.5677325362), (-49.0721049822, 9.587935785))
        make_face()
        with BuildLine():
            ThreePointArc((-40.9298337882, 28.7184384337), (-37.1572412739, 33.4565303179), (-32.8394484508, 37.7037216393))
            ThreePointArc((-32.8394484508, 37.7037216393), (-37.0415452653, 41.022373318), (-41.4335604532, 44.0852590802))
            ThreePointArc((-41.4335604532, 44.0852590802), (-44.9602619414, 40.4824016847), (-48.1747418201, 36.5984186894))
            ThreePointArc((-48.1747418201, 36.5984186894), (-44.6695442683, 32.5506221621), (-40.9298337882, 28.7184384337))
        make_face()
        with BuildLine():
            ThreePointArc((-25.7104224964, 42.8832621783), (-20.3368321538, 45.6772728821), (-14.6648437927, 47.8010706631))
            ThreePointArc((-14.6648437927, 47.8010706631), (-17.1538330068, 52.5419565819), (-19.9203506586, 57.1264354711))
            ThreePointArc((-19.9203506586, 57.1264354711), (-24.6075669061, 55.2695001874), (-29.1238986033, 53.0287519196))
            ThreePointArc((-29.1238986033, 53.0287519196), (-27.5681284731, 47.905213503), (-25.7104224964, 42.8832621783))
        make_face()
    extrude(amount=F4_DEPTH)

    # F5 (on Front) → F6 (cut)
    with BuildSketch(Plane.XZ):
        Circle(F5_R)
        Circle(F5_R_2, mode=Mode.SUBTRACT)
    extrude(amount=F6_DEPTH, mode=Mode.SUBTRACT)

    # F7 (on Front) → F8 (cut)
    with BuildSketch(Plane.XZ):
        with Locations((0, 31)):
            Circle(F7_R)
        with Locations((-24.2367759565, 19.3281838576)):
            Circle(F7_R)
        with Locations((-30.2227652776, -6.8981489526)):
            Circle(F7_R)
        with Locations((-13.4503959126, -27.930034905)):
            Circle(F7_R)
        with Locations((13.4503959126, -27.930034905)):
            Circle(F7_R)
        with Locations((30.2227652776, -6.8981489526)):
            Circle(F7_R)
        with Locations((24.2367759565, 19.3281838576)):
            Circle(F7_R)
    extrude(amount=F8_DEPTH, mode=Mode.SUBTRACT)

    # F9
    f9_edges = [f2.edges().sort_by_distance(p)[0] for p in [
        (-45, 0, 0),
        (-45, -8, 0),
    ]]
    chamfer(f9_edges, length=F9_SIZE)

    # F10
    f10_edges = [f2.edges().sort_by_distance(p)[0] for p in [
        (-16, -8, 0),
    ]]
    fillet(f10_edges, radius=F10_R)


solid = f2.part
